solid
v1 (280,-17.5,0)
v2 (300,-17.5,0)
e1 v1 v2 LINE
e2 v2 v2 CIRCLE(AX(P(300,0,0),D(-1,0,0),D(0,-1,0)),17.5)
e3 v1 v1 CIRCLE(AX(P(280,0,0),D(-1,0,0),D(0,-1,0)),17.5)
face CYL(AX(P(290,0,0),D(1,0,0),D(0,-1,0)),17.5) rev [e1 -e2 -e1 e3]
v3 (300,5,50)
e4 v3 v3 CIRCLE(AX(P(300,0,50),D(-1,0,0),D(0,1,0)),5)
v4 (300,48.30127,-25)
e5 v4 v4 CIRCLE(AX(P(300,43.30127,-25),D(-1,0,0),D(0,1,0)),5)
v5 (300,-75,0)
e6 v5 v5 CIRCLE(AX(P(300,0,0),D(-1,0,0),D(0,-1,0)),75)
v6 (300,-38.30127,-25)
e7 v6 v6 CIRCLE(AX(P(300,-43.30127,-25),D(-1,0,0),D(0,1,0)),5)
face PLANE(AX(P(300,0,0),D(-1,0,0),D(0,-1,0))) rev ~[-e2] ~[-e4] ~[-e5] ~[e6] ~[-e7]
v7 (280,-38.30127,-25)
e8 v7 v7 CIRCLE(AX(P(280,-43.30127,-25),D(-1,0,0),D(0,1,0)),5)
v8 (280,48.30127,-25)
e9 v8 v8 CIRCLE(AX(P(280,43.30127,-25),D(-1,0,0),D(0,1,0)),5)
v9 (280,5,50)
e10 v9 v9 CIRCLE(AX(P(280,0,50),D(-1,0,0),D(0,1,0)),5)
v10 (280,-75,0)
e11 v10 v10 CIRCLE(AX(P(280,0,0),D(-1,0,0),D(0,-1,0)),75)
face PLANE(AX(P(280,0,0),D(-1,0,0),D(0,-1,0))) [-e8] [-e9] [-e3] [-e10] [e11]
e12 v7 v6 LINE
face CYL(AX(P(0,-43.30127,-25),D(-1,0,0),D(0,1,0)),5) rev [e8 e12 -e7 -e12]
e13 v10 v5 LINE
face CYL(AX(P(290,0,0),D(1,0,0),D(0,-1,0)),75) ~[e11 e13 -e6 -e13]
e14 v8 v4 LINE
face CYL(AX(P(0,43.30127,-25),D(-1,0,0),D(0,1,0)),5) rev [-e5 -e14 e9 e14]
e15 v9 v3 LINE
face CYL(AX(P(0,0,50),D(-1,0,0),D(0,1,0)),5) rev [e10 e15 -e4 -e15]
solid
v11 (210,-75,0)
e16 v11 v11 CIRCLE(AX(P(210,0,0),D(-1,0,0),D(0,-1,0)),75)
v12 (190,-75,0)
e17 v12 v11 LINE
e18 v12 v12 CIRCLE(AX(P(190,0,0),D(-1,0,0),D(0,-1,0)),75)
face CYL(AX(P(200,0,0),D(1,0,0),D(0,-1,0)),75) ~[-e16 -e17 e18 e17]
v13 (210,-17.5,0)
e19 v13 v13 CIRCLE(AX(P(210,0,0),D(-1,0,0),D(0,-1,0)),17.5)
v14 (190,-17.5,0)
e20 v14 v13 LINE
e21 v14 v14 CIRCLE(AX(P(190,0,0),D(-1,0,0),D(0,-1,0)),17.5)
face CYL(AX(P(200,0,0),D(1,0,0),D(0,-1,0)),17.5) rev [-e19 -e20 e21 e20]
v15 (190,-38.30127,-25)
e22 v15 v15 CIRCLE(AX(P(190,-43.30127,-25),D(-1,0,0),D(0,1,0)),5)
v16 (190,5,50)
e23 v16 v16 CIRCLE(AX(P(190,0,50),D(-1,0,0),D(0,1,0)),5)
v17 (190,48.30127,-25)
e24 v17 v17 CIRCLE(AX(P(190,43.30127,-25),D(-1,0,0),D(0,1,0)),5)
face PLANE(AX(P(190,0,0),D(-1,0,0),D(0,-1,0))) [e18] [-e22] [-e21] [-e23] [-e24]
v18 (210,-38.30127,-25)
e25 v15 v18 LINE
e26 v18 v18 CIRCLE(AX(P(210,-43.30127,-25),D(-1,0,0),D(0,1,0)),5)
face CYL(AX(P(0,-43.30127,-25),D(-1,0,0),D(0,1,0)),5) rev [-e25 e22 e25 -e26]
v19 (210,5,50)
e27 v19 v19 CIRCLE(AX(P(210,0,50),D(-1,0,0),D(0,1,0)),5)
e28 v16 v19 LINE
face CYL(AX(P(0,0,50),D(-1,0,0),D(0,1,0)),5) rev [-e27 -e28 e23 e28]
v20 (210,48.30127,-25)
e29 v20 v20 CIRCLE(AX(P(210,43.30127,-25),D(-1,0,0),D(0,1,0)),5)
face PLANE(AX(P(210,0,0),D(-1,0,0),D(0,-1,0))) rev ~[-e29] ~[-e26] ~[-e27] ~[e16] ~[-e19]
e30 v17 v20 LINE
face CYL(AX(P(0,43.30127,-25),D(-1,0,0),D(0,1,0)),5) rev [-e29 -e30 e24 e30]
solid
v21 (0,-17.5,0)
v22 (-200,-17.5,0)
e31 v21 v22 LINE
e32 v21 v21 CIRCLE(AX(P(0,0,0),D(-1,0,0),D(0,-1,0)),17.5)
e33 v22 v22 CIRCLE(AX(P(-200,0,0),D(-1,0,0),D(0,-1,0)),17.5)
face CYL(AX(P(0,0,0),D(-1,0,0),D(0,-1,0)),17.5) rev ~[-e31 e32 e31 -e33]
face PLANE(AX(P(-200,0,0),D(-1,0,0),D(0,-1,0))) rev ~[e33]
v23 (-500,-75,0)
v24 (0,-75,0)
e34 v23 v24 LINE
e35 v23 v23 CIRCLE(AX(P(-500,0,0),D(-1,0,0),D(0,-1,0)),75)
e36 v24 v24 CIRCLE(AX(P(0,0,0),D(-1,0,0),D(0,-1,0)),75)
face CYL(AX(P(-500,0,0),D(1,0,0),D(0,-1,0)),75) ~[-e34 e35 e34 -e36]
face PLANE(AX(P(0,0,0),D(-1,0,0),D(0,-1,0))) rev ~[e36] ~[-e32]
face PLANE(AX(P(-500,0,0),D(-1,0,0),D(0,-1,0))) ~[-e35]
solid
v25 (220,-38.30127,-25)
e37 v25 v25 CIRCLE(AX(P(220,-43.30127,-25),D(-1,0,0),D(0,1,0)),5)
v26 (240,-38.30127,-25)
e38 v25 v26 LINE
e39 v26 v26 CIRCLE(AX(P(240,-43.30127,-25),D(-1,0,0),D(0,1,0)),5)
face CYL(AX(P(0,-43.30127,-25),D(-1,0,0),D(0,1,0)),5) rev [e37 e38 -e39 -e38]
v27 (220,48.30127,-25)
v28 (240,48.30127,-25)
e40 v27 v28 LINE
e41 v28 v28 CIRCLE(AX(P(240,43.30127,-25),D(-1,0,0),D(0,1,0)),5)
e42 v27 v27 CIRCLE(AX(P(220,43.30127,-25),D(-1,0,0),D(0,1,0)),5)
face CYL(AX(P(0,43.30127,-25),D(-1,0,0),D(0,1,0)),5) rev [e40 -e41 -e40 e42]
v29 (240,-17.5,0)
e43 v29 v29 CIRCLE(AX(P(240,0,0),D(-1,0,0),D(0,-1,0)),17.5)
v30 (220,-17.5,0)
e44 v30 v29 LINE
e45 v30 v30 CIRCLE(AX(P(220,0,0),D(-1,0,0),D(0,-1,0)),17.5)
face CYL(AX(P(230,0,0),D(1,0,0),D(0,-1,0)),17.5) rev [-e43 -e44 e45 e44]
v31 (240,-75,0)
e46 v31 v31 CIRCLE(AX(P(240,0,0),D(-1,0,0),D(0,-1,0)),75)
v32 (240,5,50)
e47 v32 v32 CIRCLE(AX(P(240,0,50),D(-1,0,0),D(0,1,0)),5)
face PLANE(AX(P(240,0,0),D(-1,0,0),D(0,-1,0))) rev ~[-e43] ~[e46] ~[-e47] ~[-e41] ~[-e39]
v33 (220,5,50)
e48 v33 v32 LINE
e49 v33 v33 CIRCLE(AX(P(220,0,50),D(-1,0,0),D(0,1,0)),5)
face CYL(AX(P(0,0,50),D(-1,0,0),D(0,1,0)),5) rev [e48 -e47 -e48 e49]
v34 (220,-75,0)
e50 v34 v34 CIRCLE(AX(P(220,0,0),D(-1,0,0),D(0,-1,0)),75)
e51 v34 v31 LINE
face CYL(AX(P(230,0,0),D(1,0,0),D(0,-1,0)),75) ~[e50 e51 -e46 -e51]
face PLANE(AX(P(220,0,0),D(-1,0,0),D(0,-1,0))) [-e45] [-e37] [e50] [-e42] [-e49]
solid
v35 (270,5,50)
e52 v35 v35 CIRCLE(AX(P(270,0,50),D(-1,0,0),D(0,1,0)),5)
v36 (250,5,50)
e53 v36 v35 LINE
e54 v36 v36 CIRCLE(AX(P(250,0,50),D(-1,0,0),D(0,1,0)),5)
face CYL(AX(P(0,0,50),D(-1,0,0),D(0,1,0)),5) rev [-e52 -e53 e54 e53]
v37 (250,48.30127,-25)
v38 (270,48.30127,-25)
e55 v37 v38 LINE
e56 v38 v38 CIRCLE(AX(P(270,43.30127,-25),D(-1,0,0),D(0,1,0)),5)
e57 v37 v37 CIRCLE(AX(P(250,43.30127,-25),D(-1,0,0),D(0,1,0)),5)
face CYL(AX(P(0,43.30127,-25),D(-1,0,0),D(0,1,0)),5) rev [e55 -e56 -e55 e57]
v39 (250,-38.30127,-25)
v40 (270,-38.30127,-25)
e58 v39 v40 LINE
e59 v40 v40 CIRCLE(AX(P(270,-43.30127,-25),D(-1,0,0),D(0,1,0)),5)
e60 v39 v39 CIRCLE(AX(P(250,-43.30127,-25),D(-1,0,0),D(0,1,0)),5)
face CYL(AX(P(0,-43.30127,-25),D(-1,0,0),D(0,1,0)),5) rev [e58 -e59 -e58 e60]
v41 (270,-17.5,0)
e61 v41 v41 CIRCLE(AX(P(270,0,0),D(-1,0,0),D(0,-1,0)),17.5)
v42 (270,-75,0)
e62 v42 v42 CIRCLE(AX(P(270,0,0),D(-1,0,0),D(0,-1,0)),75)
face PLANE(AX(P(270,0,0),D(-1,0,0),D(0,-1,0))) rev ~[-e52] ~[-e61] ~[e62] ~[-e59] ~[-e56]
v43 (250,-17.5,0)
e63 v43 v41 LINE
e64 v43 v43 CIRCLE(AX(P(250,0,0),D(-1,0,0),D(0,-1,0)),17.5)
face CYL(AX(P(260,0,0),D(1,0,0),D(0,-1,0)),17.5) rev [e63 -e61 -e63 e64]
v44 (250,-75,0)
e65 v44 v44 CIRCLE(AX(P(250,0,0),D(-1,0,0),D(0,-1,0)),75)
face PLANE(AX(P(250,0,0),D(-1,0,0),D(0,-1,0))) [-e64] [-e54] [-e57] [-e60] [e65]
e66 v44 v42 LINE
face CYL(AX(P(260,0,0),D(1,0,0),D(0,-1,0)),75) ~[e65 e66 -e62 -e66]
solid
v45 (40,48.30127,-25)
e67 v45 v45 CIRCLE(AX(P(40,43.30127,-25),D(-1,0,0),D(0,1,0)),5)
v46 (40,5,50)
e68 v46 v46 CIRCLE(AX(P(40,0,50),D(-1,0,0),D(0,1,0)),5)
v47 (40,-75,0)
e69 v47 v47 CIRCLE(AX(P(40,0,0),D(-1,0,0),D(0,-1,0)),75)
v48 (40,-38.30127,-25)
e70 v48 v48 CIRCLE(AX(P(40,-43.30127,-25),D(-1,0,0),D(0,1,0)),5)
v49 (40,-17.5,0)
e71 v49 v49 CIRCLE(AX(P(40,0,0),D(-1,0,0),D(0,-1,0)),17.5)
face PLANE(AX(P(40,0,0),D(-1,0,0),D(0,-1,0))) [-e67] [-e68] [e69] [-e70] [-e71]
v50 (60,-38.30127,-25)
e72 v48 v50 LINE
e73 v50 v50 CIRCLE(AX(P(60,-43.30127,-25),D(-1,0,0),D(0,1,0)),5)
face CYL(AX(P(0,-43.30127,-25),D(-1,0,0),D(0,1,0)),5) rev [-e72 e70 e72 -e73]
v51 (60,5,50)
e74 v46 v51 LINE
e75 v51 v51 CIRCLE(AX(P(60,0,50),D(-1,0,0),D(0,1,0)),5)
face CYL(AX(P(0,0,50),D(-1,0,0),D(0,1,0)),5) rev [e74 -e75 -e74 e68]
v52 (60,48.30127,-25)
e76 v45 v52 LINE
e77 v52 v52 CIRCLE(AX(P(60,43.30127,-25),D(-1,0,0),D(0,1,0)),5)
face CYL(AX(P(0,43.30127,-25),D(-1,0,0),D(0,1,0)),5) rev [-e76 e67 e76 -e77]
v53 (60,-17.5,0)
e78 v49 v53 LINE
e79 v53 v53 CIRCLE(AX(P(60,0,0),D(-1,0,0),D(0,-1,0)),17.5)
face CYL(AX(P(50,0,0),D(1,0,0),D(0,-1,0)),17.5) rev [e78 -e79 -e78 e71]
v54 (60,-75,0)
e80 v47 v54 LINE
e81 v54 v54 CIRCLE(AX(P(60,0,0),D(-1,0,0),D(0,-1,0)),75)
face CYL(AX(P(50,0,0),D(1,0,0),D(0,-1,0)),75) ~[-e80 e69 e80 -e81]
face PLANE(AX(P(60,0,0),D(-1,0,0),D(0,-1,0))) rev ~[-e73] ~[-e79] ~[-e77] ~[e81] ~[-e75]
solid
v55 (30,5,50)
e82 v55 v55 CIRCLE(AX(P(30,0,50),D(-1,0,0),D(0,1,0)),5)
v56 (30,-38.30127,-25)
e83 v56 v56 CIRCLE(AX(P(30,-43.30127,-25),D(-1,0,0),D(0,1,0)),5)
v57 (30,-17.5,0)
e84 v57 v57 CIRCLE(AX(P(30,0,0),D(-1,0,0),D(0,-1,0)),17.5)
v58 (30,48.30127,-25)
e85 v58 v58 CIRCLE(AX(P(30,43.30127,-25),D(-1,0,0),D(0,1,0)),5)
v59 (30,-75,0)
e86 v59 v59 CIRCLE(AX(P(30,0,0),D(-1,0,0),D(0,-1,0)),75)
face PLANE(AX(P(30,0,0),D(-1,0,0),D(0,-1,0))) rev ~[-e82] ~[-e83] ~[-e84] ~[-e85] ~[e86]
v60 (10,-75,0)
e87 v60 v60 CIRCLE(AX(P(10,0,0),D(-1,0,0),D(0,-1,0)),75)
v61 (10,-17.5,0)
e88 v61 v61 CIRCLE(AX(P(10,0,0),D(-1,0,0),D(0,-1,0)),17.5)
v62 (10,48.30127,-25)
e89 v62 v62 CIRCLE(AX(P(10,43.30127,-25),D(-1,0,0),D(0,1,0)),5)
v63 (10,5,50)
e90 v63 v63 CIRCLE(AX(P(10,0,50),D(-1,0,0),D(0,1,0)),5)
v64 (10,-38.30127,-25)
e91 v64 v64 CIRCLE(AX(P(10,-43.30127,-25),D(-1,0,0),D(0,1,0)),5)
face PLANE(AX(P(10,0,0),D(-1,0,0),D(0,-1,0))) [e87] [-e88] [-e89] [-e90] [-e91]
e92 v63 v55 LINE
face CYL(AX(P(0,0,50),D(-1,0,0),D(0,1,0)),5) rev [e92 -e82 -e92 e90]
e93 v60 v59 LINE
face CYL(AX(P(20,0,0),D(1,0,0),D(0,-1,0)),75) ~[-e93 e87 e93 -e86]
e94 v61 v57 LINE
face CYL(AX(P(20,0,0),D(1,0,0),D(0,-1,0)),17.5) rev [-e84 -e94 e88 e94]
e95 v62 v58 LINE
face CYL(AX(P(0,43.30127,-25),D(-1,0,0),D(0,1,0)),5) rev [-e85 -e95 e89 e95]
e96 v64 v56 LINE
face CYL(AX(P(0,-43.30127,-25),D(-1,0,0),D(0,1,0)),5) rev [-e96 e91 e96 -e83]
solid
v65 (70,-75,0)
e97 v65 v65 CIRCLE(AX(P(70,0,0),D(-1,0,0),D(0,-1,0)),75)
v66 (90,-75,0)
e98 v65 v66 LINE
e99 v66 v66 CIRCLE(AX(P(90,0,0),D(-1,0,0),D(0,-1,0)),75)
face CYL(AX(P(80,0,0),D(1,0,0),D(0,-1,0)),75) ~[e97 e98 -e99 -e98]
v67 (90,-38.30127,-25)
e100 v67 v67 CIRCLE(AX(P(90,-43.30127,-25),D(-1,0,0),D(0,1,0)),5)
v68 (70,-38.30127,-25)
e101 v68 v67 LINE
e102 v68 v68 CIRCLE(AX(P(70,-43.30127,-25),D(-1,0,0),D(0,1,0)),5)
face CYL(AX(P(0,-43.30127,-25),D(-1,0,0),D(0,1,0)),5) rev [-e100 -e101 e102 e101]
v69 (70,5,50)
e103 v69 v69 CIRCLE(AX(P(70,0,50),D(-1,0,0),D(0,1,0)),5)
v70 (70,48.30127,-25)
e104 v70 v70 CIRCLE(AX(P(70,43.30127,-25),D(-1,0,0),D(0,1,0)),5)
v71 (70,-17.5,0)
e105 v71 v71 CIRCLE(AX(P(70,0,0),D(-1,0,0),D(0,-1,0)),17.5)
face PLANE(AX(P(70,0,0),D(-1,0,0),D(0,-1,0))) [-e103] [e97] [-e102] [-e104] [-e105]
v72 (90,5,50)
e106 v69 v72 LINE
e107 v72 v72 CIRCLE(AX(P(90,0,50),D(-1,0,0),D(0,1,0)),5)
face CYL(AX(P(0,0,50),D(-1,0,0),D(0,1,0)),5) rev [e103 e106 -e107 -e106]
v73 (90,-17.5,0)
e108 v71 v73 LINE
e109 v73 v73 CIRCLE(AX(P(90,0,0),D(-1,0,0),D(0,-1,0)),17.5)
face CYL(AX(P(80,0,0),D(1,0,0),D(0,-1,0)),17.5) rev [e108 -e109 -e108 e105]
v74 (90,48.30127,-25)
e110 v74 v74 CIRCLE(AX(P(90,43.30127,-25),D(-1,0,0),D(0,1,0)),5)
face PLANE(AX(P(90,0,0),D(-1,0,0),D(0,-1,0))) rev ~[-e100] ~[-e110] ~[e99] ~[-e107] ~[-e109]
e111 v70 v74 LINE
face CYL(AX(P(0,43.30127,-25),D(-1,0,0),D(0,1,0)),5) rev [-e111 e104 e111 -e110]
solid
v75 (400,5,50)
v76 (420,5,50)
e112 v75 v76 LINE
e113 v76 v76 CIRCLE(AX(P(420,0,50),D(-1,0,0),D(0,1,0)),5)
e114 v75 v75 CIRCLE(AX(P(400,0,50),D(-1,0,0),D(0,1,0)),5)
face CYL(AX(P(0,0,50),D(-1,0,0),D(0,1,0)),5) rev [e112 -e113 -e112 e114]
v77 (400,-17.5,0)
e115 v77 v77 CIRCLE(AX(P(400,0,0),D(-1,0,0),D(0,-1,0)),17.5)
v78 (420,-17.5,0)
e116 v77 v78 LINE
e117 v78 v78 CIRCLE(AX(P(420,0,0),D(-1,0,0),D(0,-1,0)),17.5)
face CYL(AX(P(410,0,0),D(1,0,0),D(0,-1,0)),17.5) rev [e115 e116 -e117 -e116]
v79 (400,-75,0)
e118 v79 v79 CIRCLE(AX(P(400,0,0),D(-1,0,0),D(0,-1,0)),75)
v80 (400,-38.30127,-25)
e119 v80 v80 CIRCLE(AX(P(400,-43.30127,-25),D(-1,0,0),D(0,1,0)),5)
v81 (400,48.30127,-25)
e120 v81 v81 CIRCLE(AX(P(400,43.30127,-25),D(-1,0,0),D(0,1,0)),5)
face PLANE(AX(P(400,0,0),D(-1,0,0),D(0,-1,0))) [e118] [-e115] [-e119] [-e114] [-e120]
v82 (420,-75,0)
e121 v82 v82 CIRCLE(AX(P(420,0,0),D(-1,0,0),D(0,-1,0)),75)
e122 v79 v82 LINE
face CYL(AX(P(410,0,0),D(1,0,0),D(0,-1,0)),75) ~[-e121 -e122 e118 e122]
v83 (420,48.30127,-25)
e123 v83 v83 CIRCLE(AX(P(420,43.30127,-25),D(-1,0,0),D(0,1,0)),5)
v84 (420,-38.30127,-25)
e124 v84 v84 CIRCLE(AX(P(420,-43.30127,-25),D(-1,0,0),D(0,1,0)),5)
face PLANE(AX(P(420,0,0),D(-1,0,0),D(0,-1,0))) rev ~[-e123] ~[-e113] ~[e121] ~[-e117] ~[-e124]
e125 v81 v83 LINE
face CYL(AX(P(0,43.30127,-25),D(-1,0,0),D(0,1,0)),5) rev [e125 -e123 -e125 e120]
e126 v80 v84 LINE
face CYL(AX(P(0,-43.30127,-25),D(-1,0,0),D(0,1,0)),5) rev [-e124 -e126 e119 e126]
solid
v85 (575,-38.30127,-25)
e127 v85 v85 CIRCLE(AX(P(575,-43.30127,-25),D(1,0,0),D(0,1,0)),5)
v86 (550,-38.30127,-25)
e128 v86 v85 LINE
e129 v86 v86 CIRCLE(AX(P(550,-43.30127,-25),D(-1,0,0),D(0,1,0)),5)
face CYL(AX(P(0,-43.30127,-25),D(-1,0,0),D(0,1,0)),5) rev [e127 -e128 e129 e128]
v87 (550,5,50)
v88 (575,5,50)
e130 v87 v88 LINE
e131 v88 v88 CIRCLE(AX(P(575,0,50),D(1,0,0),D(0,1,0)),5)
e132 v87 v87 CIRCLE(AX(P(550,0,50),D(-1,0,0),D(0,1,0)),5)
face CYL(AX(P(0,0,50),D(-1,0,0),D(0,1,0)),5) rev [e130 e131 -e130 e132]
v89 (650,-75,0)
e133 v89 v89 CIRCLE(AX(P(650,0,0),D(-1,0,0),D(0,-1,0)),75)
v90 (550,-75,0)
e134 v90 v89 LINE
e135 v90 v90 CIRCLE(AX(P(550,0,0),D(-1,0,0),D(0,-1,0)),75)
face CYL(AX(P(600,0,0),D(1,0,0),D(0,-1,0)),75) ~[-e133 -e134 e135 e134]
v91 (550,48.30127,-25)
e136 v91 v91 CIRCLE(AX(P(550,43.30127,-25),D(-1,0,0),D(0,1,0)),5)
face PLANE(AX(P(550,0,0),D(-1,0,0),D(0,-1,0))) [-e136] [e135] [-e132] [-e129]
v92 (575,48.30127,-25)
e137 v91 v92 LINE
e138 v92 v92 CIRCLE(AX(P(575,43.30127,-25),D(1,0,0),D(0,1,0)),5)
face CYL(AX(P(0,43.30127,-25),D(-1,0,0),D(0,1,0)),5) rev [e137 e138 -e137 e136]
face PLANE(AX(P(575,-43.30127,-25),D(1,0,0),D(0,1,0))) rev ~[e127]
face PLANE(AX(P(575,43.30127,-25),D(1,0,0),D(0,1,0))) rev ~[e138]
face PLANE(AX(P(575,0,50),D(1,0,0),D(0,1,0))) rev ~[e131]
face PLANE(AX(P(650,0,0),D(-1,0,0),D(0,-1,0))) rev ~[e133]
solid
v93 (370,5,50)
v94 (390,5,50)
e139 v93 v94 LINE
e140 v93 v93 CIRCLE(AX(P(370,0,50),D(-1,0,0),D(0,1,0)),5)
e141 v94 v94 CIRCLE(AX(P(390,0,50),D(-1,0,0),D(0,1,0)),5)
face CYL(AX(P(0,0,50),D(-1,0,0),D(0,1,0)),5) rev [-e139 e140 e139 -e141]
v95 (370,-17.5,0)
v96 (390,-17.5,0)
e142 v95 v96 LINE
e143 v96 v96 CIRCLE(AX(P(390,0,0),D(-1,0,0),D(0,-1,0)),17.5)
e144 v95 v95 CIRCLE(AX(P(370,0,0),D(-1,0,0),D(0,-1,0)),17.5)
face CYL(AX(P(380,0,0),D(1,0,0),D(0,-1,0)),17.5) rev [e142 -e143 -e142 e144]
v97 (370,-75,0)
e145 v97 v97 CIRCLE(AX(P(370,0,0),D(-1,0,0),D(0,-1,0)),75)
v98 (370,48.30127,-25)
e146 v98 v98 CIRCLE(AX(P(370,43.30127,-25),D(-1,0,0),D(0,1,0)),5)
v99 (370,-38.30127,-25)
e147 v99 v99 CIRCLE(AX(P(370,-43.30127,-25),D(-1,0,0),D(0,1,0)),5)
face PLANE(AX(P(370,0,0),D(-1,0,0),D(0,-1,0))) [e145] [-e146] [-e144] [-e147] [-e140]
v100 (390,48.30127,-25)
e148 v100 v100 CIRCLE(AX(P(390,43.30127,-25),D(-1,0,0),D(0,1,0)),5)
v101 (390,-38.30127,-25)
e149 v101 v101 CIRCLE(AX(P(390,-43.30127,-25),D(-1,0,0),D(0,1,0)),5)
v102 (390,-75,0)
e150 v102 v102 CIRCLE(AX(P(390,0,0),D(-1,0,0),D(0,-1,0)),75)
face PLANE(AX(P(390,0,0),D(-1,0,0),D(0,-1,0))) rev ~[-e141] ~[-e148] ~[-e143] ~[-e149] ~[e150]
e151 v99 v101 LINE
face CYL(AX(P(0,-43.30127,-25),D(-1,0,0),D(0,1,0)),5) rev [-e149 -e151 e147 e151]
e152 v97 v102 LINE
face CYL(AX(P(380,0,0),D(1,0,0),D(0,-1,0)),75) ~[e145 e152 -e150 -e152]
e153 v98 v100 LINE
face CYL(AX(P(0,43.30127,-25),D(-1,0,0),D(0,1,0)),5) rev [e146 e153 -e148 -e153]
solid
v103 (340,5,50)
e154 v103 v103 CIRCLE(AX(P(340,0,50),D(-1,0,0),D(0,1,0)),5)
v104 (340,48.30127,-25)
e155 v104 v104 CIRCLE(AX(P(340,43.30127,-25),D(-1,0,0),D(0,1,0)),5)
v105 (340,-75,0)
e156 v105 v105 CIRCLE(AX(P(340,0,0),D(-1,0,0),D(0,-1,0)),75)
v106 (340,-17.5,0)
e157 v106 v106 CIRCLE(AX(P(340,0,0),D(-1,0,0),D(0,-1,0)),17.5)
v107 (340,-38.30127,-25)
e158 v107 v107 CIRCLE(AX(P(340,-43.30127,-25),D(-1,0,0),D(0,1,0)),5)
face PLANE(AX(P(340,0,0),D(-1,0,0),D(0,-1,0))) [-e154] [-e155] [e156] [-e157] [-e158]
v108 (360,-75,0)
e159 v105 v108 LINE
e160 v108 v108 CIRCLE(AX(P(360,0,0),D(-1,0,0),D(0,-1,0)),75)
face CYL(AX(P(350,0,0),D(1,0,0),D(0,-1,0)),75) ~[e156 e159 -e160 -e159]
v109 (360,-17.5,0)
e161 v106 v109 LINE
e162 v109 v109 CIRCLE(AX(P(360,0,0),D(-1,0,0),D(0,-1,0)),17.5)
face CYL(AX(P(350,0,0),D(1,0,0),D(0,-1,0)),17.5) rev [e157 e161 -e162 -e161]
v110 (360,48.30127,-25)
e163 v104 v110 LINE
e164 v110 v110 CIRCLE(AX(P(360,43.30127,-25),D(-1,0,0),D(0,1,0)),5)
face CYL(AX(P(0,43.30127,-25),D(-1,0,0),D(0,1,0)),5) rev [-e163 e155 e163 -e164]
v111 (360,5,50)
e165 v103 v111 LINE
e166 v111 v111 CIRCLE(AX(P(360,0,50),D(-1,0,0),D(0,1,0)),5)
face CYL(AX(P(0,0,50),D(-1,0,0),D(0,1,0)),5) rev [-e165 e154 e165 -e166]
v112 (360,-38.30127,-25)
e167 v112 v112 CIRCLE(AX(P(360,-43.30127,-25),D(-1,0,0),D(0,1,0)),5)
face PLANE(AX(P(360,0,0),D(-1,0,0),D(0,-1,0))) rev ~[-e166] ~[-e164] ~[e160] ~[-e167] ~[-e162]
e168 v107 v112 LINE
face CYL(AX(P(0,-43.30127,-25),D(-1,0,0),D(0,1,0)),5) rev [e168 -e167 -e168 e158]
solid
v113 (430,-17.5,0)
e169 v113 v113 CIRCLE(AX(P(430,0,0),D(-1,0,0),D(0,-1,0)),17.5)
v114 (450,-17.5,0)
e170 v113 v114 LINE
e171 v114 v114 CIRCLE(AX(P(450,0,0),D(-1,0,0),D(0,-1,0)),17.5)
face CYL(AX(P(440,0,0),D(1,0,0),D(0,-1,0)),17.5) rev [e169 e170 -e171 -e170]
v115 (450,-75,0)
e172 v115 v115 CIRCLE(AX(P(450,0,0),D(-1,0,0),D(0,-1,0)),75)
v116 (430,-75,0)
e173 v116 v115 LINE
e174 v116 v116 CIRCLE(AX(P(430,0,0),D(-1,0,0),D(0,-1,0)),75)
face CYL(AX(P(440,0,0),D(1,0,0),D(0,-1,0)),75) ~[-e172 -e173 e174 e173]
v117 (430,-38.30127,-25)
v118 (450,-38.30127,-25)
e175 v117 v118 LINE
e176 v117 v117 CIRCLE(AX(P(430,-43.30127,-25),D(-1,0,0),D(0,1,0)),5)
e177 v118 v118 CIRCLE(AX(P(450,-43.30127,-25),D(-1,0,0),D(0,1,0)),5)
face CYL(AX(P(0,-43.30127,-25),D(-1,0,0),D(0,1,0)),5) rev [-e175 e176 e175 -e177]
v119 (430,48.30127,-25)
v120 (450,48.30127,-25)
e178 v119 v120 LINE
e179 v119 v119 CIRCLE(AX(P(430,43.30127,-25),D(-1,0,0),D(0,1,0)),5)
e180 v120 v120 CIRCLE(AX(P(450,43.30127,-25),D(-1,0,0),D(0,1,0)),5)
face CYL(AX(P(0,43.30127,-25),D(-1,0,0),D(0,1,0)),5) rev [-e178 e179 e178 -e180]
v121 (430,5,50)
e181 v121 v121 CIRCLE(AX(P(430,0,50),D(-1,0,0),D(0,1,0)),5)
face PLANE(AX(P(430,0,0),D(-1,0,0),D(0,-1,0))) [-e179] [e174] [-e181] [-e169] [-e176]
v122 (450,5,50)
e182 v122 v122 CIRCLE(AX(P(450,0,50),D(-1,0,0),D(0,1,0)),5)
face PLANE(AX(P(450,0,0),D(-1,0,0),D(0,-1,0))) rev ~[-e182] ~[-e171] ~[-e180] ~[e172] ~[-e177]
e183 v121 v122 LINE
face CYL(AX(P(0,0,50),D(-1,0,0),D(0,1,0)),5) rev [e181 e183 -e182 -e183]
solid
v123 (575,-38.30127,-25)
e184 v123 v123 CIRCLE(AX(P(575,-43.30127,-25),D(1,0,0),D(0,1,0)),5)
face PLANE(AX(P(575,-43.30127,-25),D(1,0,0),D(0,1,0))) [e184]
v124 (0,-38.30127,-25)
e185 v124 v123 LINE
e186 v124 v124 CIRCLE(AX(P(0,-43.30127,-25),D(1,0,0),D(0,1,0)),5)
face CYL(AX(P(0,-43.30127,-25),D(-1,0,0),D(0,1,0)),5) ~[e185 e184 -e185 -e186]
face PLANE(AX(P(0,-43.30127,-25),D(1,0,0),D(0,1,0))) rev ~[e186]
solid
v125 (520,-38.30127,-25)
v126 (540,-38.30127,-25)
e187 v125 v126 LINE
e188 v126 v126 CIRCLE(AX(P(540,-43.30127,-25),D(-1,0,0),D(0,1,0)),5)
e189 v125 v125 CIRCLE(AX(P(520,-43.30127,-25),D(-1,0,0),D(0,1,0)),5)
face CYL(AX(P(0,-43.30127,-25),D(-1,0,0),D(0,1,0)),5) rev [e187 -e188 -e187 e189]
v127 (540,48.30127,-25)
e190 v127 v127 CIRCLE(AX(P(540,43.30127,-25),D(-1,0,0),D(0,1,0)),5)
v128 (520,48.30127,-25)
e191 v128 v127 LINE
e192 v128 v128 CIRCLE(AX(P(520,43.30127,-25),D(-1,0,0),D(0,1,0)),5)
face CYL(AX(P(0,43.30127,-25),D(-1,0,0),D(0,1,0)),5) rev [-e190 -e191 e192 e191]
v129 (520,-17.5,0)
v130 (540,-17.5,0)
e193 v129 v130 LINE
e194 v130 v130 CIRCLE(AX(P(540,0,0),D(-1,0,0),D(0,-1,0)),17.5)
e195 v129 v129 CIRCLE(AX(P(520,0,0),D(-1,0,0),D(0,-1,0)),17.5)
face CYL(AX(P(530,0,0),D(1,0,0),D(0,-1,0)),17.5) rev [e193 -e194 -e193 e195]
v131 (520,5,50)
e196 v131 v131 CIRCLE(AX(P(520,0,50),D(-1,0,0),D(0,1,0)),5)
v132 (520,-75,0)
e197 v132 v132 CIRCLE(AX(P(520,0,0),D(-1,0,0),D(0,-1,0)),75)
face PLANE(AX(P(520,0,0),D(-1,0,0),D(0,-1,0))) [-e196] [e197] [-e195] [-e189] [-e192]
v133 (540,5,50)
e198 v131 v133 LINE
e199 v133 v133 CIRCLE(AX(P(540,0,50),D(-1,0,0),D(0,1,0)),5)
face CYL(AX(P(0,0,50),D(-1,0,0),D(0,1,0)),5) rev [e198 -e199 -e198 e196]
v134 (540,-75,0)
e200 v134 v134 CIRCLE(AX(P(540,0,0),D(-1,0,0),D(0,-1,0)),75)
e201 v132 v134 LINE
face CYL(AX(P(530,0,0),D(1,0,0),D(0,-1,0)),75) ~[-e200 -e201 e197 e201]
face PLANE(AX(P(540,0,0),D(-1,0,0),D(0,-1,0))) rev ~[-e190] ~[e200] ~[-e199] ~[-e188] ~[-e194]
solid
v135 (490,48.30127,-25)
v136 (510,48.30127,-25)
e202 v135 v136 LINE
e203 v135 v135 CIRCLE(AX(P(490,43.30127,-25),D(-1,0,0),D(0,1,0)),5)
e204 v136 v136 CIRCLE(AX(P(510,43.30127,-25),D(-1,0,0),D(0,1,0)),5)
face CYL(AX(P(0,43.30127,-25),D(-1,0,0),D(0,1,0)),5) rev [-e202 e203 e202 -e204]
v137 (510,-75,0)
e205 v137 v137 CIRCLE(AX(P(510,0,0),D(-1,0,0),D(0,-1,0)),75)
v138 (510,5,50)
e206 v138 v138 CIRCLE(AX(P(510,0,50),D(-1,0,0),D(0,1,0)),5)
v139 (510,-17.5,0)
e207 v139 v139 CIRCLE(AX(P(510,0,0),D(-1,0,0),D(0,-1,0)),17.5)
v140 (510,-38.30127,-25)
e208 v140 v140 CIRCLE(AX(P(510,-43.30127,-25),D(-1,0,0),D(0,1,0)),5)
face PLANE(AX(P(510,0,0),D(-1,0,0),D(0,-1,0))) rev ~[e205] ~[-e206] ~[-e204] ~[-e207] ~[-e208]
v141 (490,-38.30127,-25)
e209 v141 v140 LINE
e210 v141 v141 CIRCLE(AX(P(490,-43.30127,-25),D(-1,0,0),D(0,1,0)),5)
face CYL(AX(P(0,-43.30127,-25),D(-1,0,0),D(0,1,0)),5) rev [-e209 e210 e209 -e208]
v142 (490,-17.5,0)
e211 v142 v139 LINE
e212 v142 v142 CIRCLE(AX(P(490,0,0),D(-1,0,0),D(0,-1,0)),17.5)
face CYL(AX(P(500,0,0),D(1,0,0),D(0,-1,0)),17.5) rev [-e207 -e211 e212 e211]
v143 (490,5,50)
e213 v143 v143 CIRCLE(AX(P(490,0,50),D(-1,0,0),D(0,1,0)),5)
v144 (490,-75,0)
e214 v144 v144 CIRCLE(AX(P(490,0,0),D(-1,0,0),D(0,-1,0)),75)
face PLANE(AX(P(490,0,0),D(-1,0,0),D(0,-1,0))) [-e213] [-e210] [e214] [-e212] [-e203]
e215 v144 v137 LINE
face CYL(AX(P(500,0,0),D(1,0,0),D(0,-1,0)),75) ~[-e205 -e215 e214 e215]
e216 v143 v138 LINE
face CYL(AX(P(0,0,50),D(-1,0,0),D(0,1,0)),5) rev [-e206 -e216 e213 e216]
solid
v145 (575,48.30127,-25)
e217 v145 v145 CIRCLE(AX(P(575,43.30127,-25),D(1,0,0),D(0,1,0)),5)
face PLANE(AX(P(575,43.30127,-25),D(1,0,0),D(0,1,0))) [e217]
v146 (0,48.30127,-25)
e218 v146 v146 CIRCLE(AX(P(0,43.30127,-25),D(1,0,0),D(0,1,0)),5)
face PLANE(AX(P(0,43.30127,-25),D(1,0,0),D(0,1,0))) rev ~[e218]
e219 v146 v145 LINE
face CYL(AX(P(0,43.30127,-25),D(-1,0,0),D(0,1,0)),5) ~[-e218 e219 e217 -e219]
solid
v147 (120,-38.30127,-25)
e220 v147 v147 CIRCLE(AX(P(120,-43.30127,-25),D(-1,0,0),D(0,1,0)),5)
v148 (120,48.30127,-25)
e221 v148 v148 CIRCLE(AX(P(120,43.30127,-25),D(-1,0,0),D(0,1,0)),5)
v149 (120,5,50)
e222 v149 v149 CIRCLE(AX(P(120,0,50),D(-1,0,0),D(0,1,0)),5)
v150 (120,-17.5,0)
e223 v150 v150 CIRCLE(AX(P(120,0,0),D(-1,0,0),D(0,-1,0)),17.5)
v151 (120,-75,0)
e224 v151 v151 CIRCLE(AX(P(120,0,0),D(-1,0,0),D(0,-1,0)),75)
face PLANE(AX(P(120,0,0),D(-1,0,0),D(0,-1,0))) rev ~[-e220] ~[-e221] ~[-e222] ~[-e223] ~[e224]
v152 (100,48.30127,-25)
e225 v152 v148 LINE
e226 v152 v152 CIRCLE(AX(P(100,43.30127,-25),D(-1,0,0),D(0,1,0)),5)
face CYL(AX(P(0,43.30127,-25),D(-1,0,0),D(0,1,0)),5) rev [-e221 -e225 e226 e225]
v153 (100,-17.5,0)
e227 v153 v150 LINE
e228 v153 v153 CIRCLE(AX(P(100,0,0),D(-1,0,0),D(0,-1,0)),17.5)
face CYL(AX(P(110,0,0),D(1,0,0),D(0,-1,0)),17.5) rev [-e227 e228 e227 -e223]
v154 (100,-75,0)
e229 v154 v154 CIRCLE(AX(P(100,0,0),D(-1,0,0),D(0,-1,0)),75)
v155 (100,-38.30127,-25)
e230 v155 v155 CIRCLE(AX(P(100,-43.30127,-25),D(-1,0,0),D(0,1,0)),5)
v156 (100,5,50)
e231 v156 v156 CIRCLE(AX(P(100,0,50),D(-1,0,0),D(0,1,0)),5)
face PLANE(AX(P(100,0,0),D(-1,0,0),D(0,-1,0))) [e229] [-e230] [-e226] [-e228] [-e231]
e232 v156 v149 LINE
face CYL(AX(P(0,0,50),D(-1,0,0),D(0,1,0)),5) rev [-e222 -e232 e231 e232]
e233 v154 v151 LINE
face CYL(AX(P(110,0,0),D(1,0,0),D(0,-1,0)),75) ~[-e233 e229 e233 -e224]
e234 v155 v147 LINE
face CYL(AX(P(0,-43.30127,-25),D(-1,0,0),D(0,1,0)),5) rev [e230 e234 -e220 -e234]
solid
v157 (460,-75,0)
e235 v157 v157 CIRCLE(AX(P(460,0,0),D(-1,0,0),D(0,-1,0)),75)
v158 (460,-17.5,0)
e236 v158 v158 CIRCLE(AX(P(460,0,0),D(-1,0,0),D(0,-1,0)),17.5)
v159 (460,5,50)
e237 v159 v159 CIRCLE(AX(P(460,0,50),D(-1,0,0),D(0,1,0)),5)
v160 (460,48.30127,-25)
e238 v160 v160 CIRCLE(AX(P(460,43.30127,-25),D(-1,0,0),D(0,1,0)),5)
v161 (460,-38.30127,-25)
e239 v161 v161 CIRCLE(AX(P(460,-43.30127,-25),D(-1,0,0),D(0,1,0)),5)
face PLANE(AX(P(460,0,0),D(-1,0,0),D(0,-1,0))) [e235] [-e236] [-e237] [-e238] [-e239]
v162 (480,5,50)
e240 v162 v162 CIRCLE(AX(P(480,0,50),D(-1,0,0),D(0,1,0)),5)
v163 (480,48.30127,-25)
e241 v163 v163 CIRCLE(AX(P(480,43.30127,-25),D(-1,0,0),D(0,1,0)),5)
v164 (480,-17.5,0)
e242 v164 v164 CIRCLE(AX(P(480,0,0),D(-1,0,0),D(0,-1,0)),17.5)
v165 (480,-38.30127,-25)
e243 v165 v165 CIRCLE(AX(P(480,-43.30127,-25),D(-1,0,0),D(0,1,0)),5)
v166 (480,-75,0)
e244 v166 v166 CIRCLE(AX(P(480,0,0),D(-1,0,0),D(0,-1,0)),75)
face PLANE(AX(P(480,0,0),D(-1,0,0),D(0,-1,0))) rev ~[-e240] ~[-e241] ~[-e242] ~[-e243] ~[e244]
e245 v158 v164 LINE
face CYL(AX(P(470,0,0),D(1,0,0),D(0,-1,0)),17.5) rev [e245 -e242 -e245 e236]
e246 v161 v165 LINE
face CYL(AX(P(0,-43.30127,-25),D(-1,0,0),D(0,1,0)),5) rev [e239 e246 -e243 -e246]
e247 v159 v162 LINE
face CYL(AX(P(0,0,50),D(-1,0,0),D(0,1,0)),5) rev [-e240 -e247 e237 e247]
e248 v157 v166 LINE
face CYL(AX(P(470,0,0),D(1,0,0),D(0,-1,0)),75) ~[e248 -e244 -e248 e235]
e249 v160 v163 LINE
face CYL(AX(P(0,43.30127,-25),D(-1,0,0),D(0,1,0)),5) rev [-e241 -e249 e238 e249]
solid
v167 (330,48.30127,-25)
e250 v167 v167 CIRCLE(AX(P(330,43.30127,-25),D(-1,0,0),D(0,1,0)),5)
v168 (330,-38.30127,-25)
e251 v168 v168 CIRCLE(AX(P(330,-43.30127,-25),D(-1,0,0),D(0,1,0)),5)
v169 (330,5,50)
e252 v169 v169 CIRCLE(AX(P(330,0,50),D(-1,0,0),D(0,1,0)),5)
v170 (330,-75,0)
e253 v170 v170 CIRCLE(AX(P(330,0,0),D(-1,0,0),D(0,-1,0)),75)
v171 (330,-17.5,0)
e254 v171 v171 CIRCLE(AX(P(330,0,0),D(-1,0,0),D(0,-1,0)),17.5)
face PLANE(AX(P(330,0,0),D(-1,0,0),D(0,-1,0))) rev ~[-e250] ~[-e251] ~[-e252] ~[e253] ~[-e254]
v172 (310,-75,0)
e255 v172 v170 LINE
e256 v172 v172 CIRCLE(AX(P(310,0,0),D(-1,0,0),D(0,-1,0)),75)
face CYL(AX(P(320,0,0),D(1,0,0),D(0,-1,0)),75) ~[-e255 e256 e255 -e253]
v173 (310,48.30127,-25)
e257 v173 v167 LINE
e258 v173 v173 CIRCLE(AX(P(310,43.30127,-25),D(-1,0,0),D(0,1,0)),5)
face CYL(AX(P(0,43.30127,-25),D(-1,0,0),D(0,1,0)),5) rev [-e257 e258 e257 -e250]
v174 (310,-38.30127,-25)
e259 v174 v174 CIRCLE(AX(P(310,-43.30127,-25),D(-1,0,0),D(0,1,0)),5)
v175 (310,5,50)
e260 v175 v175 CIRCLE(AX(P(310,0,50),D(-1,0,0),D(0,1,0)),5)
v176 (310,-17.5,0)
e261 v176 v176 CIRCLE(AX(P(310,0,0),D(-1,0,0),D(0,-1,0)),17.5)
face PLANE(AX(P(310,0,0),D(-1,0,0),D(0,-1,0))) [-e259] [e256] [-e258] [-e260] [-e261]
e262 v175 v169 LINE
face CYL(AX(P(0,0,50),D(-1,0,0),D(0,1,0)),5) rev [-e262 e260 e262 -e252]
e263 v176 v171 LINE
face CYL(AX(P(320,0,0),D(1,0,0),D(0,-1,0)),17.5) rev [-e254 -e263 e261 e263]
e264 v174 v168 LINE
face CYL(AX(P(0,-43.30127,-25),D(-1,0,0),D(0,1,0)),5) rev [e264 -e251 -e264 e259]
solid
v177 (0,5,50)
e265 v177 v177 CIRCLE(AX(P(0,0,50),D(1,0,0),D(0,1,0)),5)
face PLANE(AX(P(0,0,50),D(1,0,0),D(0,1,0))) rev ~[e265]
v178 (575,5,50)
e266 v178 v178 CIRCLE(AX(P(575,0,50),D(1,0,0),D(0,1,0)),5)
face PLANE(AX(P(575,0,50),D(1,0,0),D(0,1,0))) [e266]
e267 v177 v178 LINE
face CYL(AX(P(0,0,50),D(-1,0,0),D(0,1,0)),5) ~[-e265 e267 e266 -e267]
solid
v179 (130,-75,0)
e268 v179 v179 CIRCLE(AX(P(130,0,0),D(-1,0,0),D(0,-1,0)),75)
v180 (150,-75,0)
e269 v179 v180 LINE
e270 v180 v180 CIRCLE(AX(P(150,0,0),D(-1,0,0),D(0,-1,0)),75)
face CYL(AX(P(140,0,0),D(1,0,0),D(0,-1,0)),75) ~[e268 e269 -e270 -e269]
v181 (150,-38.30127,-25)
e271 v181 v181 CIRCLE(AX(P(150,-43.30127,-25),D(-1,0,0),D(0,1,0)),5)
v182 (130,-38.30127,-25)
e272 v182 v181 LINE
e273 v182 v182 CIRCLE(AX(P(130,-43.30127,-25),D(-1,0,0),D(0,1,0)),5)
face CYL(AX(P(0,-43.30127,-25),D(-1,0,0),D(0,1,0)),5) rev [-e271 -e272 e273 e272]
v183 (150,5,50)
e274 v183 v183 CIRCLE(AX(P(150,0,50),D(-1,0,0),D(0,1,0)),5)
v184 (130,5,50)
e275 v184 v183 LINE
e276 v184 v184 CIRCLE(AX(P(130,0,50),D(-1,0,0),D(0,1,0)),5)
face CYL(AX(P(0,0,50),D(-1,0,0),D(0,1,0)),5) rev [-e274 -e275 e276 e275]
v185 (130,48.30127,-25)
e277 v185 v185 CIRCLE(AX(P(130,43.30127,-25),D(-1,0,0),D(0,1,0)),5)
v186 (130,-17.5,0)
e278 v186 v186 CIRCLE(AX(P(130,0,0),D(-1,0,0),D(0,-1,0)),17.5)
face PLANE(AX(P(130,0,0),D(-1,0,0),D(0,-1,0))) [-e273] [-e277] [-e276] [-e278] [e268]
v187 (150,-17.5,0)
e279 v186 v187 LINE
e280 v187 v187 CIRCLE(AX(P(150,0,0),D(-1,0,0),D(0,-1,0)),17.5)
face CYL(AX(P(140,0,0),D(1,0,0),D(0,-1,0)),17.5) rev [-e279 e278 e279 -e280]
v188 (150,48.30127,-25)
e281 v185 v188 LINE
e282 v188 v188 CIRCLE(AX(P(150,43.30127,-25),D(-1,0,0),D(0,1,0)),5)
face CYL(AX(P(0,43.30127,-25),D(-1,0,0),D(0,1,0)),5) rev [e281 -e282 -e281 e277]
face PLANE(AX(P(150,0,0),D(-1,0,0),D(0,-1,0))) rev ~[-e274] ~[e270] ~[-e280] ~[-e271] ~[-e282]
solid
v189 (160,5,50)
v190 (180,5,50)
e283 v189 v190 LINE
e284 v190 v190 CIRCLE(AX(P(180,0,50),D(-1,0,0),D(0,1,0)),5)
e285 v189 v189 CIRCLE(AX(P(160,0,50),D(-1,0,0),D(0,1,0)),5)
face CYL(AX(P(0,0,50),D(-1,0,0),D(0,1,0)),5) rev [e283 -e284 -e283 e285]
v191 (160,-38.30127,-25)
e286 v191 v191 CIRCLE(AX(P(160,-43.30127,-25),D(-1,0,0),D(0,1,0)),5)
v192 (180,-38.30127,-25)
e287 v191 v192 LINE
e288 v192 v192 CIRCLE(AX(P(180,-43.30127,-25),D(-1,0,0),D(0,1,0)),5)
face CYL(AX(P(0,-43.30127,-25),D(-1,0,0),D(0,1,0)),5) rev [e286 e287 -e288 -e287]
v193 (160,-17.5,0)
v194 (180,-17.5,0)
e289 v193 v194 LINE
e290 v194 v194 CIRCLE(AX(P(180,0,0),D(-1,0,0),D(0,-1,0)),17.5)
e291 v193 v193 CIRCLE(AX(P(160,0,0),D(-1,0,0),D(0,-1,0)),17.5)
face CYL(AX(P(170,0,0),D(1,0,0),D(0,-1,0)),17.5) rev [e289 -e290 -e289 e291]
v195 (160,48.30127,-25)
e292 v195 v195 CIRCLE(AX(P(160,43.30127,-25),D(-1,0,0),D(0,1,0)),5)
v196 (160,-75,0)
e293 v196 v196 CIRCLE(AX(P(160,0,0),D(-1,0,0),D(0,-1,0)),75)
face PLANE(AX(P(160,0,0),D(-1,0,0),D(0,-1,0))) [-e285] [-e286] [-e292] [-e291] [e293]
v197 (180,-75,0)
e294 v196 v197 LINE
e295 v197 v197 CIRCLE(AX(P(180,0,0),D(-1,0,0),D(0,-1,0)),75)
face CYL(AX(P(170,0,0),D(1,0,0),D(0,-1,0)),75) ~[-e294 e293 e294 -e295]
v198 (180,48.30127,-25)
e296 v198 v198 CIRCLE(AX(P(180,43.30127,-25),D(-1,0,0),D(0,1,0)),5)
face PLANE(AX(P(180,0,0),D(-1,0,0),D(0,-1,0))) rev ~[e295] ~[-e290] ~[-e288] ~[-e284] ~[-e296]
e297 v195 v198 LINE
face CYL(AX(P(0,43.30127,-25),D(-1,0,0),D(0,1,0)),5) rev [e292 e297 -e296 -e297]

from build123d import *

# Parameters (mm, degrees)
F1_W     = 20
F1_H     = 57.5
F2_W     = 100
F2_H     = 75
F4_R     = 5
F5_DEPTH = 575
F6_DEPTH = 575


with BuildPart() as f3:
    # F0 (on Top) → F3 (revolve)
    with BuildSketch(Plane.XY):
        Polygon((-200, 0), (-500, 0), (-500, -75), (0, -75), (0, -17.5), (-200, -17.5), align=None)
    revolve(axis=Axis((-350, 0, 0), (-1, 0, 0)))


with BuildPart() as f3b:
    # F1 (on Top) → F3, piece 2 (revolve)
    with BuildSketch(Plane.XY):
        with Locations((140, -46.25)):
            Rectangle(F1_W, F1_H)
    revolve(axis=Axis((-350, 0, 0), (-1, 0, 0)))


with BuildPart() as f3c:
    # F1 (on Top) → F3, piece 3 (revolve)
    with BuildSketch(Plane.XY):
        with Locations((290, -46.25)):
            Rectangle(F1_W, F1_H)
    revolve(axis=Axis((-350, 0, 0), (-1, 0, 0)))


with BuildPart() as f3d:
    # F1 (on Top) → F3, piece 4 (revolve)
    with BuildSketch(Plane.XY):
        with Locations((110, -46.25)):
            Rectangle(F1_W, F1_H)
    revolve(axis=Axis((-350, 0, 0), (-1, 0, 0)))


with BuildPart() as f3e:
    # F1 (on Top) → F3, piece 5 (revolve)
    with BuildSketch(Plane.XY):
        with Locations((80, -46.25)):
            Rectangle(F1_W, F1_H)
    revolve(axis=Axis((-350, 0, 0), (-1, 0, 0)))


with BuildPart() as f3f:
    # F1 (on Top) → F3, piece 6 (revolve)
    with BuildSketch(Plane.XY):
        with Locations((320, -46.25)):
            Rectangle(F1_W, F1_H)
    revolve(axis=Axis((-350, 0, 0), (-1, 0, 0)))


with BuildPart() as f3g:
    # F1 (on Top) → F3, piece 7 (revolve)
    with BuildSketch(Plane.XY):
        with Locations((50, -46.25)):
            Rectangle(F1_W, F1_H)
    revolve(axis=Axis((-350, 0, 0), (-1, 0, 0)))


with BuildPart() as f3h:
    # F1 (on Top) → F3, piece 8 (revolve)
    with BuildSketch(Plane.XY):
        with Locations((260, -46.25)):
            Rectangle(F1_W, F1_H)
    revolve(axis=Axis((-350, 0, 0), (-1, 0, 0)))


with BuildPart() as f3i:
    # F1 (on Top) → F3, piece 9 (revolve)
    with BuildSketch(Plane.XY):
        with Locations((530, -46.25)):
            Rectangle(F1_W, F1_H)
    revolve(axis=Axis((-350, 0, 0), (-1, 0, 0)))


with BuildPart() as f3j:
    # F1 (on Top) → F3, piece 10 (revolve)
    with BuildSketch(Plane.XY):
        with Locations((500, -46.25)):
            Rectangle(F1_W, F1_H)
    revolve(axis=Axis((-350, 0, 0), (-1, 0, 0)))


with BuildPart() as f3k:
    # F1 (on Top) → F3, piece 11 (revolve)
    with BuildSketch(Plane.XY):
        with Locations((380, -46.25)):
            Rectangle(F1_W, F1_H)
    revolve(axis=Axis((-350, 0, 0), (-1, 0, 0)))


with BuildPart() as f3l:
    # F1 (on Top) → F3, piece 12 (revolve)
    with BuildSketch(Plane.XY):
        with Locations((170, -46.25)):
            Rectangle(F1_W, F1_H)
    revolve(axis=Axis((-350, 0, 0), (-1, 0, 0)))


with BuildPart() as f3m:
    # F1 (on Top) → F3, piece 13 (revolve)
    with BuildSketch(Plane.XY):
        with Locations((200, -46.25)):
            Rectangle(F1_W, F1_H)
    revolve(axis=Axis((-350, 0, 0), (-1, 0, 0)))


with BuildPart() as f3n:
    # F1 (on Top) → F3, piece 14 (revolve)
    with BuildSketch(Plane.XY):
        with Locations((350, -46.25)):
            Rectangle(F1_W, F1_H)
    revolve(axis=Axis((-350, 0, 0), (-1, 0, 0)))


with BuildPart() as f3o:
    # F1 (on Top) → F3, piece 15 (revolve)
    with BuildSketch(Plane.XY):
        with Locations((230, -46.25)):
            Rectangle(F1_W, F1_H)
    revolve(axis=Axis((-350, 0, 0), (-1, 0, 0)))


with BuildPart() as f3p:
    # F1 (on Top) → F3, piece 16 (revolve)
    with BuildSketch(Plane.XY):
        with Locations((20, -46.25)):
            Rectangle(F1_W, F1_H)
    revolve(axis=Axis((-350, 0, 0), (-1, 0, 0)))


with BuildPart() as f3q:
    # F1 (on Top) → F3, piece 17 (revolve)
    with BuildSketch(Plane.XY):
        with Locations((440, -46.25)):
            Rectangle(F1_W, F1_H)
    revolve(axis=Axis((-350, 0, 0), (-1, 0, 0)))


with BuildPart() as f3r:
    # F1 (on Top) → F3, piece 18 (revolve)
    with BuildSketch(Plane.XY):
        with Locations((410, -46.25)):
            Rectangle(F1_W, F1_H)
    revolve(axis=Axis((-350, 0, 0), (-1, 0, 0)))


with BuildPart() as f3s:
    # F2 (on Top) → F3, piece 19 (revolve)
    with BuildSketch(Plane.XY):
        with Locations((600, -37.5)):
            Rectangle(F2_W, F2_H)
    revolve(axis=Axis((-350, 0, 0), (-1, 0, 0)))


with BuildPart() as f3t:
    # F1 (on Top) → F3, piece 20 (revolve)
    with BuildSketch(Plane.XY):
        with Locations((470, -46.25)):
            Rectangle(F1_W, F1_H)
    revolve(axis=Axis((-350, 0, 0), (-1, 0, 0)))


with BuildPart() as f5_tool:
    # F4 (on Right) → F5 (new body, through all)
    with BuildSketch(Plane.YZ):
        with Locations((0, 50)):
            Circle(F4_R)
        with Locations((-43.3012701892, -25)):
            Circle(F4_R)
        with Locations((43.3012701892, -25)):
            Circle(F4_R)
    extrude(amount=F5_DEPTH)


with BuildPart() as f3b_1:
    add(f3b.part)

    # F5: cut by f5_tool
    add(f5_tool.part, mode=Mode.SUBTRACT)


with BuildPart() as f3c_1:
    add(f3c.part)

    # F5: cut by f5_tool
    add(f5_tool.part, mode=Mode.SUBTRACT)


with BuildPart() as f3d_1:
    add(f3d.part)

    # F5: cut by f5_tool
    add(f5_tool.part, mode=Mode.SUBTRACT)


with BuildPart() as f3e_1:
    add(f3e.part)

    # F5: cut by f5_tool
    add(f5_tool.part, mode=Mode.SUBTRACT)


with BuildPart() as f3f_1:
    add(f3f.part)

    # F5: cut by f5_tool
    add(f5_tool.part, mode=Mode.SUBTRACT)


with BuildPart() as f3g_1:
    add(f3g.part)

    # F5: cut by f5_tool
    add(f5_tool.part, mode=Mode.SUBTRACT)


with BuildPart() as f3h_1:
    add(f3h.part)

    # F5: cut by f5_tool
    add(f5_tool.part, mode=Mode.SUBTRACT)


with BuildPart() as f3i_1:
    add(f3i.part)

    # F5: cut by f5_tool
    add(f5_tool.part, mode=Mode.SUBTRACT)


with BuildPart() as f3j_1:
    add(f3j.part)

    # F5: cut by f5_tool
    add(f5_tool.part, mode=Mode.SUBTRACT)


with BuildPart() as f3k_1:
    add(f3k.part)

    # F5: cut by f5_tool
    add(f5_tool.part, mode=Mode.SUBTRACT)


with BuildPart() as f3l_1:
    add(f3l.part)

    # F5: cut by f5_tool
    add(f5_tool.part, mode=Mode.SUBTRACT)


with BuildPart() as f3m_1:
    add(f3m.part)

    # F5: cut by f5_tool
    add(f5_tool.part, mode=Mode.SUBTRACT)


with BuildPart() as f3n_1:
    add(f3n.part)

    # F5: cut by f5_tool
    add(f5_tool.part, mode=Mode.SUBTRACT)


with BuildPart() as f3o_1:
    add(f3o.part)

    # F5: cut by f5_tool
    add(f5_tool.part, mode=Mode.SUBTRACT)


with BuildPart() as f3p_1:
    add(f3p.part)

    # F5: cut by f5_tool
    add(f5_tool.part, mode=Mode.SUBTRACT)


with BuildPart() as f3q_1:
    add(f3q.part)

    # F5: cut by f5_tool
    add(f5_tool.part, mode=Mode.SUBTRACT)


with BuildPart() as f3r_1:
    add(f3r.part)

    # F5: cut by f5_tool
    add(f5_tool.part, mode=Mode.SUBTRACT)


with BuildPart() as f3s_1:
    add(f3s.part)

    # F5: cut by f5_tool
    add(f5_tool.part, mode=Mode.SUBTRACT)


with BuildPart() as f3t_1:
    add(f3t.part)

    # F5: cut by f5_tool
    add(f5_tool.part, mode=Mode.SUBTRACT)


with BuildPart() as f6:
    # F4 (on Right) → F6 (new body, through all)
    with BuildSketch(Plane.YZ):
        with Locations((0, 50)):
            Circle(F4_R)
    extrude(amount=F6_DEPTH)


with BuildPart() as f6b:
    # F4 (on Right) → F6, piece 2 (new body, through all)
    with BuildSketch(Plane.YZ):
        with Locations((-43.3012701892, -25)):
            Circle(F4_R)
    extrude(amount=F6_DEPTH)


with BuildPart() as f6c:
    # F4 (on Right) → F6, piece 3 (new body, through all)
    with BuildSketch(Plane.YZ):
        with Locations((43.3012701892, -25)):
            Circle(F4_R)
    extrude(amount=F6_DEPTH)


solid = Compound([f3.part, f3b_1.part, f3c_1.part, f3d_1.part, f3e_1.part, f3f_1.part, f3g_1.part, f3h_1.part, f3i_1.part, f3j_1.part, f3k_1.part, f3l_1.part, f3m_1.part, f3n_1.part, f3o_1.part, f3p_1.part, f3q_1.part, f3r_1.part, f3s_1.part, f3t_1.part, f6.part, f6b.part, f6c.part])
